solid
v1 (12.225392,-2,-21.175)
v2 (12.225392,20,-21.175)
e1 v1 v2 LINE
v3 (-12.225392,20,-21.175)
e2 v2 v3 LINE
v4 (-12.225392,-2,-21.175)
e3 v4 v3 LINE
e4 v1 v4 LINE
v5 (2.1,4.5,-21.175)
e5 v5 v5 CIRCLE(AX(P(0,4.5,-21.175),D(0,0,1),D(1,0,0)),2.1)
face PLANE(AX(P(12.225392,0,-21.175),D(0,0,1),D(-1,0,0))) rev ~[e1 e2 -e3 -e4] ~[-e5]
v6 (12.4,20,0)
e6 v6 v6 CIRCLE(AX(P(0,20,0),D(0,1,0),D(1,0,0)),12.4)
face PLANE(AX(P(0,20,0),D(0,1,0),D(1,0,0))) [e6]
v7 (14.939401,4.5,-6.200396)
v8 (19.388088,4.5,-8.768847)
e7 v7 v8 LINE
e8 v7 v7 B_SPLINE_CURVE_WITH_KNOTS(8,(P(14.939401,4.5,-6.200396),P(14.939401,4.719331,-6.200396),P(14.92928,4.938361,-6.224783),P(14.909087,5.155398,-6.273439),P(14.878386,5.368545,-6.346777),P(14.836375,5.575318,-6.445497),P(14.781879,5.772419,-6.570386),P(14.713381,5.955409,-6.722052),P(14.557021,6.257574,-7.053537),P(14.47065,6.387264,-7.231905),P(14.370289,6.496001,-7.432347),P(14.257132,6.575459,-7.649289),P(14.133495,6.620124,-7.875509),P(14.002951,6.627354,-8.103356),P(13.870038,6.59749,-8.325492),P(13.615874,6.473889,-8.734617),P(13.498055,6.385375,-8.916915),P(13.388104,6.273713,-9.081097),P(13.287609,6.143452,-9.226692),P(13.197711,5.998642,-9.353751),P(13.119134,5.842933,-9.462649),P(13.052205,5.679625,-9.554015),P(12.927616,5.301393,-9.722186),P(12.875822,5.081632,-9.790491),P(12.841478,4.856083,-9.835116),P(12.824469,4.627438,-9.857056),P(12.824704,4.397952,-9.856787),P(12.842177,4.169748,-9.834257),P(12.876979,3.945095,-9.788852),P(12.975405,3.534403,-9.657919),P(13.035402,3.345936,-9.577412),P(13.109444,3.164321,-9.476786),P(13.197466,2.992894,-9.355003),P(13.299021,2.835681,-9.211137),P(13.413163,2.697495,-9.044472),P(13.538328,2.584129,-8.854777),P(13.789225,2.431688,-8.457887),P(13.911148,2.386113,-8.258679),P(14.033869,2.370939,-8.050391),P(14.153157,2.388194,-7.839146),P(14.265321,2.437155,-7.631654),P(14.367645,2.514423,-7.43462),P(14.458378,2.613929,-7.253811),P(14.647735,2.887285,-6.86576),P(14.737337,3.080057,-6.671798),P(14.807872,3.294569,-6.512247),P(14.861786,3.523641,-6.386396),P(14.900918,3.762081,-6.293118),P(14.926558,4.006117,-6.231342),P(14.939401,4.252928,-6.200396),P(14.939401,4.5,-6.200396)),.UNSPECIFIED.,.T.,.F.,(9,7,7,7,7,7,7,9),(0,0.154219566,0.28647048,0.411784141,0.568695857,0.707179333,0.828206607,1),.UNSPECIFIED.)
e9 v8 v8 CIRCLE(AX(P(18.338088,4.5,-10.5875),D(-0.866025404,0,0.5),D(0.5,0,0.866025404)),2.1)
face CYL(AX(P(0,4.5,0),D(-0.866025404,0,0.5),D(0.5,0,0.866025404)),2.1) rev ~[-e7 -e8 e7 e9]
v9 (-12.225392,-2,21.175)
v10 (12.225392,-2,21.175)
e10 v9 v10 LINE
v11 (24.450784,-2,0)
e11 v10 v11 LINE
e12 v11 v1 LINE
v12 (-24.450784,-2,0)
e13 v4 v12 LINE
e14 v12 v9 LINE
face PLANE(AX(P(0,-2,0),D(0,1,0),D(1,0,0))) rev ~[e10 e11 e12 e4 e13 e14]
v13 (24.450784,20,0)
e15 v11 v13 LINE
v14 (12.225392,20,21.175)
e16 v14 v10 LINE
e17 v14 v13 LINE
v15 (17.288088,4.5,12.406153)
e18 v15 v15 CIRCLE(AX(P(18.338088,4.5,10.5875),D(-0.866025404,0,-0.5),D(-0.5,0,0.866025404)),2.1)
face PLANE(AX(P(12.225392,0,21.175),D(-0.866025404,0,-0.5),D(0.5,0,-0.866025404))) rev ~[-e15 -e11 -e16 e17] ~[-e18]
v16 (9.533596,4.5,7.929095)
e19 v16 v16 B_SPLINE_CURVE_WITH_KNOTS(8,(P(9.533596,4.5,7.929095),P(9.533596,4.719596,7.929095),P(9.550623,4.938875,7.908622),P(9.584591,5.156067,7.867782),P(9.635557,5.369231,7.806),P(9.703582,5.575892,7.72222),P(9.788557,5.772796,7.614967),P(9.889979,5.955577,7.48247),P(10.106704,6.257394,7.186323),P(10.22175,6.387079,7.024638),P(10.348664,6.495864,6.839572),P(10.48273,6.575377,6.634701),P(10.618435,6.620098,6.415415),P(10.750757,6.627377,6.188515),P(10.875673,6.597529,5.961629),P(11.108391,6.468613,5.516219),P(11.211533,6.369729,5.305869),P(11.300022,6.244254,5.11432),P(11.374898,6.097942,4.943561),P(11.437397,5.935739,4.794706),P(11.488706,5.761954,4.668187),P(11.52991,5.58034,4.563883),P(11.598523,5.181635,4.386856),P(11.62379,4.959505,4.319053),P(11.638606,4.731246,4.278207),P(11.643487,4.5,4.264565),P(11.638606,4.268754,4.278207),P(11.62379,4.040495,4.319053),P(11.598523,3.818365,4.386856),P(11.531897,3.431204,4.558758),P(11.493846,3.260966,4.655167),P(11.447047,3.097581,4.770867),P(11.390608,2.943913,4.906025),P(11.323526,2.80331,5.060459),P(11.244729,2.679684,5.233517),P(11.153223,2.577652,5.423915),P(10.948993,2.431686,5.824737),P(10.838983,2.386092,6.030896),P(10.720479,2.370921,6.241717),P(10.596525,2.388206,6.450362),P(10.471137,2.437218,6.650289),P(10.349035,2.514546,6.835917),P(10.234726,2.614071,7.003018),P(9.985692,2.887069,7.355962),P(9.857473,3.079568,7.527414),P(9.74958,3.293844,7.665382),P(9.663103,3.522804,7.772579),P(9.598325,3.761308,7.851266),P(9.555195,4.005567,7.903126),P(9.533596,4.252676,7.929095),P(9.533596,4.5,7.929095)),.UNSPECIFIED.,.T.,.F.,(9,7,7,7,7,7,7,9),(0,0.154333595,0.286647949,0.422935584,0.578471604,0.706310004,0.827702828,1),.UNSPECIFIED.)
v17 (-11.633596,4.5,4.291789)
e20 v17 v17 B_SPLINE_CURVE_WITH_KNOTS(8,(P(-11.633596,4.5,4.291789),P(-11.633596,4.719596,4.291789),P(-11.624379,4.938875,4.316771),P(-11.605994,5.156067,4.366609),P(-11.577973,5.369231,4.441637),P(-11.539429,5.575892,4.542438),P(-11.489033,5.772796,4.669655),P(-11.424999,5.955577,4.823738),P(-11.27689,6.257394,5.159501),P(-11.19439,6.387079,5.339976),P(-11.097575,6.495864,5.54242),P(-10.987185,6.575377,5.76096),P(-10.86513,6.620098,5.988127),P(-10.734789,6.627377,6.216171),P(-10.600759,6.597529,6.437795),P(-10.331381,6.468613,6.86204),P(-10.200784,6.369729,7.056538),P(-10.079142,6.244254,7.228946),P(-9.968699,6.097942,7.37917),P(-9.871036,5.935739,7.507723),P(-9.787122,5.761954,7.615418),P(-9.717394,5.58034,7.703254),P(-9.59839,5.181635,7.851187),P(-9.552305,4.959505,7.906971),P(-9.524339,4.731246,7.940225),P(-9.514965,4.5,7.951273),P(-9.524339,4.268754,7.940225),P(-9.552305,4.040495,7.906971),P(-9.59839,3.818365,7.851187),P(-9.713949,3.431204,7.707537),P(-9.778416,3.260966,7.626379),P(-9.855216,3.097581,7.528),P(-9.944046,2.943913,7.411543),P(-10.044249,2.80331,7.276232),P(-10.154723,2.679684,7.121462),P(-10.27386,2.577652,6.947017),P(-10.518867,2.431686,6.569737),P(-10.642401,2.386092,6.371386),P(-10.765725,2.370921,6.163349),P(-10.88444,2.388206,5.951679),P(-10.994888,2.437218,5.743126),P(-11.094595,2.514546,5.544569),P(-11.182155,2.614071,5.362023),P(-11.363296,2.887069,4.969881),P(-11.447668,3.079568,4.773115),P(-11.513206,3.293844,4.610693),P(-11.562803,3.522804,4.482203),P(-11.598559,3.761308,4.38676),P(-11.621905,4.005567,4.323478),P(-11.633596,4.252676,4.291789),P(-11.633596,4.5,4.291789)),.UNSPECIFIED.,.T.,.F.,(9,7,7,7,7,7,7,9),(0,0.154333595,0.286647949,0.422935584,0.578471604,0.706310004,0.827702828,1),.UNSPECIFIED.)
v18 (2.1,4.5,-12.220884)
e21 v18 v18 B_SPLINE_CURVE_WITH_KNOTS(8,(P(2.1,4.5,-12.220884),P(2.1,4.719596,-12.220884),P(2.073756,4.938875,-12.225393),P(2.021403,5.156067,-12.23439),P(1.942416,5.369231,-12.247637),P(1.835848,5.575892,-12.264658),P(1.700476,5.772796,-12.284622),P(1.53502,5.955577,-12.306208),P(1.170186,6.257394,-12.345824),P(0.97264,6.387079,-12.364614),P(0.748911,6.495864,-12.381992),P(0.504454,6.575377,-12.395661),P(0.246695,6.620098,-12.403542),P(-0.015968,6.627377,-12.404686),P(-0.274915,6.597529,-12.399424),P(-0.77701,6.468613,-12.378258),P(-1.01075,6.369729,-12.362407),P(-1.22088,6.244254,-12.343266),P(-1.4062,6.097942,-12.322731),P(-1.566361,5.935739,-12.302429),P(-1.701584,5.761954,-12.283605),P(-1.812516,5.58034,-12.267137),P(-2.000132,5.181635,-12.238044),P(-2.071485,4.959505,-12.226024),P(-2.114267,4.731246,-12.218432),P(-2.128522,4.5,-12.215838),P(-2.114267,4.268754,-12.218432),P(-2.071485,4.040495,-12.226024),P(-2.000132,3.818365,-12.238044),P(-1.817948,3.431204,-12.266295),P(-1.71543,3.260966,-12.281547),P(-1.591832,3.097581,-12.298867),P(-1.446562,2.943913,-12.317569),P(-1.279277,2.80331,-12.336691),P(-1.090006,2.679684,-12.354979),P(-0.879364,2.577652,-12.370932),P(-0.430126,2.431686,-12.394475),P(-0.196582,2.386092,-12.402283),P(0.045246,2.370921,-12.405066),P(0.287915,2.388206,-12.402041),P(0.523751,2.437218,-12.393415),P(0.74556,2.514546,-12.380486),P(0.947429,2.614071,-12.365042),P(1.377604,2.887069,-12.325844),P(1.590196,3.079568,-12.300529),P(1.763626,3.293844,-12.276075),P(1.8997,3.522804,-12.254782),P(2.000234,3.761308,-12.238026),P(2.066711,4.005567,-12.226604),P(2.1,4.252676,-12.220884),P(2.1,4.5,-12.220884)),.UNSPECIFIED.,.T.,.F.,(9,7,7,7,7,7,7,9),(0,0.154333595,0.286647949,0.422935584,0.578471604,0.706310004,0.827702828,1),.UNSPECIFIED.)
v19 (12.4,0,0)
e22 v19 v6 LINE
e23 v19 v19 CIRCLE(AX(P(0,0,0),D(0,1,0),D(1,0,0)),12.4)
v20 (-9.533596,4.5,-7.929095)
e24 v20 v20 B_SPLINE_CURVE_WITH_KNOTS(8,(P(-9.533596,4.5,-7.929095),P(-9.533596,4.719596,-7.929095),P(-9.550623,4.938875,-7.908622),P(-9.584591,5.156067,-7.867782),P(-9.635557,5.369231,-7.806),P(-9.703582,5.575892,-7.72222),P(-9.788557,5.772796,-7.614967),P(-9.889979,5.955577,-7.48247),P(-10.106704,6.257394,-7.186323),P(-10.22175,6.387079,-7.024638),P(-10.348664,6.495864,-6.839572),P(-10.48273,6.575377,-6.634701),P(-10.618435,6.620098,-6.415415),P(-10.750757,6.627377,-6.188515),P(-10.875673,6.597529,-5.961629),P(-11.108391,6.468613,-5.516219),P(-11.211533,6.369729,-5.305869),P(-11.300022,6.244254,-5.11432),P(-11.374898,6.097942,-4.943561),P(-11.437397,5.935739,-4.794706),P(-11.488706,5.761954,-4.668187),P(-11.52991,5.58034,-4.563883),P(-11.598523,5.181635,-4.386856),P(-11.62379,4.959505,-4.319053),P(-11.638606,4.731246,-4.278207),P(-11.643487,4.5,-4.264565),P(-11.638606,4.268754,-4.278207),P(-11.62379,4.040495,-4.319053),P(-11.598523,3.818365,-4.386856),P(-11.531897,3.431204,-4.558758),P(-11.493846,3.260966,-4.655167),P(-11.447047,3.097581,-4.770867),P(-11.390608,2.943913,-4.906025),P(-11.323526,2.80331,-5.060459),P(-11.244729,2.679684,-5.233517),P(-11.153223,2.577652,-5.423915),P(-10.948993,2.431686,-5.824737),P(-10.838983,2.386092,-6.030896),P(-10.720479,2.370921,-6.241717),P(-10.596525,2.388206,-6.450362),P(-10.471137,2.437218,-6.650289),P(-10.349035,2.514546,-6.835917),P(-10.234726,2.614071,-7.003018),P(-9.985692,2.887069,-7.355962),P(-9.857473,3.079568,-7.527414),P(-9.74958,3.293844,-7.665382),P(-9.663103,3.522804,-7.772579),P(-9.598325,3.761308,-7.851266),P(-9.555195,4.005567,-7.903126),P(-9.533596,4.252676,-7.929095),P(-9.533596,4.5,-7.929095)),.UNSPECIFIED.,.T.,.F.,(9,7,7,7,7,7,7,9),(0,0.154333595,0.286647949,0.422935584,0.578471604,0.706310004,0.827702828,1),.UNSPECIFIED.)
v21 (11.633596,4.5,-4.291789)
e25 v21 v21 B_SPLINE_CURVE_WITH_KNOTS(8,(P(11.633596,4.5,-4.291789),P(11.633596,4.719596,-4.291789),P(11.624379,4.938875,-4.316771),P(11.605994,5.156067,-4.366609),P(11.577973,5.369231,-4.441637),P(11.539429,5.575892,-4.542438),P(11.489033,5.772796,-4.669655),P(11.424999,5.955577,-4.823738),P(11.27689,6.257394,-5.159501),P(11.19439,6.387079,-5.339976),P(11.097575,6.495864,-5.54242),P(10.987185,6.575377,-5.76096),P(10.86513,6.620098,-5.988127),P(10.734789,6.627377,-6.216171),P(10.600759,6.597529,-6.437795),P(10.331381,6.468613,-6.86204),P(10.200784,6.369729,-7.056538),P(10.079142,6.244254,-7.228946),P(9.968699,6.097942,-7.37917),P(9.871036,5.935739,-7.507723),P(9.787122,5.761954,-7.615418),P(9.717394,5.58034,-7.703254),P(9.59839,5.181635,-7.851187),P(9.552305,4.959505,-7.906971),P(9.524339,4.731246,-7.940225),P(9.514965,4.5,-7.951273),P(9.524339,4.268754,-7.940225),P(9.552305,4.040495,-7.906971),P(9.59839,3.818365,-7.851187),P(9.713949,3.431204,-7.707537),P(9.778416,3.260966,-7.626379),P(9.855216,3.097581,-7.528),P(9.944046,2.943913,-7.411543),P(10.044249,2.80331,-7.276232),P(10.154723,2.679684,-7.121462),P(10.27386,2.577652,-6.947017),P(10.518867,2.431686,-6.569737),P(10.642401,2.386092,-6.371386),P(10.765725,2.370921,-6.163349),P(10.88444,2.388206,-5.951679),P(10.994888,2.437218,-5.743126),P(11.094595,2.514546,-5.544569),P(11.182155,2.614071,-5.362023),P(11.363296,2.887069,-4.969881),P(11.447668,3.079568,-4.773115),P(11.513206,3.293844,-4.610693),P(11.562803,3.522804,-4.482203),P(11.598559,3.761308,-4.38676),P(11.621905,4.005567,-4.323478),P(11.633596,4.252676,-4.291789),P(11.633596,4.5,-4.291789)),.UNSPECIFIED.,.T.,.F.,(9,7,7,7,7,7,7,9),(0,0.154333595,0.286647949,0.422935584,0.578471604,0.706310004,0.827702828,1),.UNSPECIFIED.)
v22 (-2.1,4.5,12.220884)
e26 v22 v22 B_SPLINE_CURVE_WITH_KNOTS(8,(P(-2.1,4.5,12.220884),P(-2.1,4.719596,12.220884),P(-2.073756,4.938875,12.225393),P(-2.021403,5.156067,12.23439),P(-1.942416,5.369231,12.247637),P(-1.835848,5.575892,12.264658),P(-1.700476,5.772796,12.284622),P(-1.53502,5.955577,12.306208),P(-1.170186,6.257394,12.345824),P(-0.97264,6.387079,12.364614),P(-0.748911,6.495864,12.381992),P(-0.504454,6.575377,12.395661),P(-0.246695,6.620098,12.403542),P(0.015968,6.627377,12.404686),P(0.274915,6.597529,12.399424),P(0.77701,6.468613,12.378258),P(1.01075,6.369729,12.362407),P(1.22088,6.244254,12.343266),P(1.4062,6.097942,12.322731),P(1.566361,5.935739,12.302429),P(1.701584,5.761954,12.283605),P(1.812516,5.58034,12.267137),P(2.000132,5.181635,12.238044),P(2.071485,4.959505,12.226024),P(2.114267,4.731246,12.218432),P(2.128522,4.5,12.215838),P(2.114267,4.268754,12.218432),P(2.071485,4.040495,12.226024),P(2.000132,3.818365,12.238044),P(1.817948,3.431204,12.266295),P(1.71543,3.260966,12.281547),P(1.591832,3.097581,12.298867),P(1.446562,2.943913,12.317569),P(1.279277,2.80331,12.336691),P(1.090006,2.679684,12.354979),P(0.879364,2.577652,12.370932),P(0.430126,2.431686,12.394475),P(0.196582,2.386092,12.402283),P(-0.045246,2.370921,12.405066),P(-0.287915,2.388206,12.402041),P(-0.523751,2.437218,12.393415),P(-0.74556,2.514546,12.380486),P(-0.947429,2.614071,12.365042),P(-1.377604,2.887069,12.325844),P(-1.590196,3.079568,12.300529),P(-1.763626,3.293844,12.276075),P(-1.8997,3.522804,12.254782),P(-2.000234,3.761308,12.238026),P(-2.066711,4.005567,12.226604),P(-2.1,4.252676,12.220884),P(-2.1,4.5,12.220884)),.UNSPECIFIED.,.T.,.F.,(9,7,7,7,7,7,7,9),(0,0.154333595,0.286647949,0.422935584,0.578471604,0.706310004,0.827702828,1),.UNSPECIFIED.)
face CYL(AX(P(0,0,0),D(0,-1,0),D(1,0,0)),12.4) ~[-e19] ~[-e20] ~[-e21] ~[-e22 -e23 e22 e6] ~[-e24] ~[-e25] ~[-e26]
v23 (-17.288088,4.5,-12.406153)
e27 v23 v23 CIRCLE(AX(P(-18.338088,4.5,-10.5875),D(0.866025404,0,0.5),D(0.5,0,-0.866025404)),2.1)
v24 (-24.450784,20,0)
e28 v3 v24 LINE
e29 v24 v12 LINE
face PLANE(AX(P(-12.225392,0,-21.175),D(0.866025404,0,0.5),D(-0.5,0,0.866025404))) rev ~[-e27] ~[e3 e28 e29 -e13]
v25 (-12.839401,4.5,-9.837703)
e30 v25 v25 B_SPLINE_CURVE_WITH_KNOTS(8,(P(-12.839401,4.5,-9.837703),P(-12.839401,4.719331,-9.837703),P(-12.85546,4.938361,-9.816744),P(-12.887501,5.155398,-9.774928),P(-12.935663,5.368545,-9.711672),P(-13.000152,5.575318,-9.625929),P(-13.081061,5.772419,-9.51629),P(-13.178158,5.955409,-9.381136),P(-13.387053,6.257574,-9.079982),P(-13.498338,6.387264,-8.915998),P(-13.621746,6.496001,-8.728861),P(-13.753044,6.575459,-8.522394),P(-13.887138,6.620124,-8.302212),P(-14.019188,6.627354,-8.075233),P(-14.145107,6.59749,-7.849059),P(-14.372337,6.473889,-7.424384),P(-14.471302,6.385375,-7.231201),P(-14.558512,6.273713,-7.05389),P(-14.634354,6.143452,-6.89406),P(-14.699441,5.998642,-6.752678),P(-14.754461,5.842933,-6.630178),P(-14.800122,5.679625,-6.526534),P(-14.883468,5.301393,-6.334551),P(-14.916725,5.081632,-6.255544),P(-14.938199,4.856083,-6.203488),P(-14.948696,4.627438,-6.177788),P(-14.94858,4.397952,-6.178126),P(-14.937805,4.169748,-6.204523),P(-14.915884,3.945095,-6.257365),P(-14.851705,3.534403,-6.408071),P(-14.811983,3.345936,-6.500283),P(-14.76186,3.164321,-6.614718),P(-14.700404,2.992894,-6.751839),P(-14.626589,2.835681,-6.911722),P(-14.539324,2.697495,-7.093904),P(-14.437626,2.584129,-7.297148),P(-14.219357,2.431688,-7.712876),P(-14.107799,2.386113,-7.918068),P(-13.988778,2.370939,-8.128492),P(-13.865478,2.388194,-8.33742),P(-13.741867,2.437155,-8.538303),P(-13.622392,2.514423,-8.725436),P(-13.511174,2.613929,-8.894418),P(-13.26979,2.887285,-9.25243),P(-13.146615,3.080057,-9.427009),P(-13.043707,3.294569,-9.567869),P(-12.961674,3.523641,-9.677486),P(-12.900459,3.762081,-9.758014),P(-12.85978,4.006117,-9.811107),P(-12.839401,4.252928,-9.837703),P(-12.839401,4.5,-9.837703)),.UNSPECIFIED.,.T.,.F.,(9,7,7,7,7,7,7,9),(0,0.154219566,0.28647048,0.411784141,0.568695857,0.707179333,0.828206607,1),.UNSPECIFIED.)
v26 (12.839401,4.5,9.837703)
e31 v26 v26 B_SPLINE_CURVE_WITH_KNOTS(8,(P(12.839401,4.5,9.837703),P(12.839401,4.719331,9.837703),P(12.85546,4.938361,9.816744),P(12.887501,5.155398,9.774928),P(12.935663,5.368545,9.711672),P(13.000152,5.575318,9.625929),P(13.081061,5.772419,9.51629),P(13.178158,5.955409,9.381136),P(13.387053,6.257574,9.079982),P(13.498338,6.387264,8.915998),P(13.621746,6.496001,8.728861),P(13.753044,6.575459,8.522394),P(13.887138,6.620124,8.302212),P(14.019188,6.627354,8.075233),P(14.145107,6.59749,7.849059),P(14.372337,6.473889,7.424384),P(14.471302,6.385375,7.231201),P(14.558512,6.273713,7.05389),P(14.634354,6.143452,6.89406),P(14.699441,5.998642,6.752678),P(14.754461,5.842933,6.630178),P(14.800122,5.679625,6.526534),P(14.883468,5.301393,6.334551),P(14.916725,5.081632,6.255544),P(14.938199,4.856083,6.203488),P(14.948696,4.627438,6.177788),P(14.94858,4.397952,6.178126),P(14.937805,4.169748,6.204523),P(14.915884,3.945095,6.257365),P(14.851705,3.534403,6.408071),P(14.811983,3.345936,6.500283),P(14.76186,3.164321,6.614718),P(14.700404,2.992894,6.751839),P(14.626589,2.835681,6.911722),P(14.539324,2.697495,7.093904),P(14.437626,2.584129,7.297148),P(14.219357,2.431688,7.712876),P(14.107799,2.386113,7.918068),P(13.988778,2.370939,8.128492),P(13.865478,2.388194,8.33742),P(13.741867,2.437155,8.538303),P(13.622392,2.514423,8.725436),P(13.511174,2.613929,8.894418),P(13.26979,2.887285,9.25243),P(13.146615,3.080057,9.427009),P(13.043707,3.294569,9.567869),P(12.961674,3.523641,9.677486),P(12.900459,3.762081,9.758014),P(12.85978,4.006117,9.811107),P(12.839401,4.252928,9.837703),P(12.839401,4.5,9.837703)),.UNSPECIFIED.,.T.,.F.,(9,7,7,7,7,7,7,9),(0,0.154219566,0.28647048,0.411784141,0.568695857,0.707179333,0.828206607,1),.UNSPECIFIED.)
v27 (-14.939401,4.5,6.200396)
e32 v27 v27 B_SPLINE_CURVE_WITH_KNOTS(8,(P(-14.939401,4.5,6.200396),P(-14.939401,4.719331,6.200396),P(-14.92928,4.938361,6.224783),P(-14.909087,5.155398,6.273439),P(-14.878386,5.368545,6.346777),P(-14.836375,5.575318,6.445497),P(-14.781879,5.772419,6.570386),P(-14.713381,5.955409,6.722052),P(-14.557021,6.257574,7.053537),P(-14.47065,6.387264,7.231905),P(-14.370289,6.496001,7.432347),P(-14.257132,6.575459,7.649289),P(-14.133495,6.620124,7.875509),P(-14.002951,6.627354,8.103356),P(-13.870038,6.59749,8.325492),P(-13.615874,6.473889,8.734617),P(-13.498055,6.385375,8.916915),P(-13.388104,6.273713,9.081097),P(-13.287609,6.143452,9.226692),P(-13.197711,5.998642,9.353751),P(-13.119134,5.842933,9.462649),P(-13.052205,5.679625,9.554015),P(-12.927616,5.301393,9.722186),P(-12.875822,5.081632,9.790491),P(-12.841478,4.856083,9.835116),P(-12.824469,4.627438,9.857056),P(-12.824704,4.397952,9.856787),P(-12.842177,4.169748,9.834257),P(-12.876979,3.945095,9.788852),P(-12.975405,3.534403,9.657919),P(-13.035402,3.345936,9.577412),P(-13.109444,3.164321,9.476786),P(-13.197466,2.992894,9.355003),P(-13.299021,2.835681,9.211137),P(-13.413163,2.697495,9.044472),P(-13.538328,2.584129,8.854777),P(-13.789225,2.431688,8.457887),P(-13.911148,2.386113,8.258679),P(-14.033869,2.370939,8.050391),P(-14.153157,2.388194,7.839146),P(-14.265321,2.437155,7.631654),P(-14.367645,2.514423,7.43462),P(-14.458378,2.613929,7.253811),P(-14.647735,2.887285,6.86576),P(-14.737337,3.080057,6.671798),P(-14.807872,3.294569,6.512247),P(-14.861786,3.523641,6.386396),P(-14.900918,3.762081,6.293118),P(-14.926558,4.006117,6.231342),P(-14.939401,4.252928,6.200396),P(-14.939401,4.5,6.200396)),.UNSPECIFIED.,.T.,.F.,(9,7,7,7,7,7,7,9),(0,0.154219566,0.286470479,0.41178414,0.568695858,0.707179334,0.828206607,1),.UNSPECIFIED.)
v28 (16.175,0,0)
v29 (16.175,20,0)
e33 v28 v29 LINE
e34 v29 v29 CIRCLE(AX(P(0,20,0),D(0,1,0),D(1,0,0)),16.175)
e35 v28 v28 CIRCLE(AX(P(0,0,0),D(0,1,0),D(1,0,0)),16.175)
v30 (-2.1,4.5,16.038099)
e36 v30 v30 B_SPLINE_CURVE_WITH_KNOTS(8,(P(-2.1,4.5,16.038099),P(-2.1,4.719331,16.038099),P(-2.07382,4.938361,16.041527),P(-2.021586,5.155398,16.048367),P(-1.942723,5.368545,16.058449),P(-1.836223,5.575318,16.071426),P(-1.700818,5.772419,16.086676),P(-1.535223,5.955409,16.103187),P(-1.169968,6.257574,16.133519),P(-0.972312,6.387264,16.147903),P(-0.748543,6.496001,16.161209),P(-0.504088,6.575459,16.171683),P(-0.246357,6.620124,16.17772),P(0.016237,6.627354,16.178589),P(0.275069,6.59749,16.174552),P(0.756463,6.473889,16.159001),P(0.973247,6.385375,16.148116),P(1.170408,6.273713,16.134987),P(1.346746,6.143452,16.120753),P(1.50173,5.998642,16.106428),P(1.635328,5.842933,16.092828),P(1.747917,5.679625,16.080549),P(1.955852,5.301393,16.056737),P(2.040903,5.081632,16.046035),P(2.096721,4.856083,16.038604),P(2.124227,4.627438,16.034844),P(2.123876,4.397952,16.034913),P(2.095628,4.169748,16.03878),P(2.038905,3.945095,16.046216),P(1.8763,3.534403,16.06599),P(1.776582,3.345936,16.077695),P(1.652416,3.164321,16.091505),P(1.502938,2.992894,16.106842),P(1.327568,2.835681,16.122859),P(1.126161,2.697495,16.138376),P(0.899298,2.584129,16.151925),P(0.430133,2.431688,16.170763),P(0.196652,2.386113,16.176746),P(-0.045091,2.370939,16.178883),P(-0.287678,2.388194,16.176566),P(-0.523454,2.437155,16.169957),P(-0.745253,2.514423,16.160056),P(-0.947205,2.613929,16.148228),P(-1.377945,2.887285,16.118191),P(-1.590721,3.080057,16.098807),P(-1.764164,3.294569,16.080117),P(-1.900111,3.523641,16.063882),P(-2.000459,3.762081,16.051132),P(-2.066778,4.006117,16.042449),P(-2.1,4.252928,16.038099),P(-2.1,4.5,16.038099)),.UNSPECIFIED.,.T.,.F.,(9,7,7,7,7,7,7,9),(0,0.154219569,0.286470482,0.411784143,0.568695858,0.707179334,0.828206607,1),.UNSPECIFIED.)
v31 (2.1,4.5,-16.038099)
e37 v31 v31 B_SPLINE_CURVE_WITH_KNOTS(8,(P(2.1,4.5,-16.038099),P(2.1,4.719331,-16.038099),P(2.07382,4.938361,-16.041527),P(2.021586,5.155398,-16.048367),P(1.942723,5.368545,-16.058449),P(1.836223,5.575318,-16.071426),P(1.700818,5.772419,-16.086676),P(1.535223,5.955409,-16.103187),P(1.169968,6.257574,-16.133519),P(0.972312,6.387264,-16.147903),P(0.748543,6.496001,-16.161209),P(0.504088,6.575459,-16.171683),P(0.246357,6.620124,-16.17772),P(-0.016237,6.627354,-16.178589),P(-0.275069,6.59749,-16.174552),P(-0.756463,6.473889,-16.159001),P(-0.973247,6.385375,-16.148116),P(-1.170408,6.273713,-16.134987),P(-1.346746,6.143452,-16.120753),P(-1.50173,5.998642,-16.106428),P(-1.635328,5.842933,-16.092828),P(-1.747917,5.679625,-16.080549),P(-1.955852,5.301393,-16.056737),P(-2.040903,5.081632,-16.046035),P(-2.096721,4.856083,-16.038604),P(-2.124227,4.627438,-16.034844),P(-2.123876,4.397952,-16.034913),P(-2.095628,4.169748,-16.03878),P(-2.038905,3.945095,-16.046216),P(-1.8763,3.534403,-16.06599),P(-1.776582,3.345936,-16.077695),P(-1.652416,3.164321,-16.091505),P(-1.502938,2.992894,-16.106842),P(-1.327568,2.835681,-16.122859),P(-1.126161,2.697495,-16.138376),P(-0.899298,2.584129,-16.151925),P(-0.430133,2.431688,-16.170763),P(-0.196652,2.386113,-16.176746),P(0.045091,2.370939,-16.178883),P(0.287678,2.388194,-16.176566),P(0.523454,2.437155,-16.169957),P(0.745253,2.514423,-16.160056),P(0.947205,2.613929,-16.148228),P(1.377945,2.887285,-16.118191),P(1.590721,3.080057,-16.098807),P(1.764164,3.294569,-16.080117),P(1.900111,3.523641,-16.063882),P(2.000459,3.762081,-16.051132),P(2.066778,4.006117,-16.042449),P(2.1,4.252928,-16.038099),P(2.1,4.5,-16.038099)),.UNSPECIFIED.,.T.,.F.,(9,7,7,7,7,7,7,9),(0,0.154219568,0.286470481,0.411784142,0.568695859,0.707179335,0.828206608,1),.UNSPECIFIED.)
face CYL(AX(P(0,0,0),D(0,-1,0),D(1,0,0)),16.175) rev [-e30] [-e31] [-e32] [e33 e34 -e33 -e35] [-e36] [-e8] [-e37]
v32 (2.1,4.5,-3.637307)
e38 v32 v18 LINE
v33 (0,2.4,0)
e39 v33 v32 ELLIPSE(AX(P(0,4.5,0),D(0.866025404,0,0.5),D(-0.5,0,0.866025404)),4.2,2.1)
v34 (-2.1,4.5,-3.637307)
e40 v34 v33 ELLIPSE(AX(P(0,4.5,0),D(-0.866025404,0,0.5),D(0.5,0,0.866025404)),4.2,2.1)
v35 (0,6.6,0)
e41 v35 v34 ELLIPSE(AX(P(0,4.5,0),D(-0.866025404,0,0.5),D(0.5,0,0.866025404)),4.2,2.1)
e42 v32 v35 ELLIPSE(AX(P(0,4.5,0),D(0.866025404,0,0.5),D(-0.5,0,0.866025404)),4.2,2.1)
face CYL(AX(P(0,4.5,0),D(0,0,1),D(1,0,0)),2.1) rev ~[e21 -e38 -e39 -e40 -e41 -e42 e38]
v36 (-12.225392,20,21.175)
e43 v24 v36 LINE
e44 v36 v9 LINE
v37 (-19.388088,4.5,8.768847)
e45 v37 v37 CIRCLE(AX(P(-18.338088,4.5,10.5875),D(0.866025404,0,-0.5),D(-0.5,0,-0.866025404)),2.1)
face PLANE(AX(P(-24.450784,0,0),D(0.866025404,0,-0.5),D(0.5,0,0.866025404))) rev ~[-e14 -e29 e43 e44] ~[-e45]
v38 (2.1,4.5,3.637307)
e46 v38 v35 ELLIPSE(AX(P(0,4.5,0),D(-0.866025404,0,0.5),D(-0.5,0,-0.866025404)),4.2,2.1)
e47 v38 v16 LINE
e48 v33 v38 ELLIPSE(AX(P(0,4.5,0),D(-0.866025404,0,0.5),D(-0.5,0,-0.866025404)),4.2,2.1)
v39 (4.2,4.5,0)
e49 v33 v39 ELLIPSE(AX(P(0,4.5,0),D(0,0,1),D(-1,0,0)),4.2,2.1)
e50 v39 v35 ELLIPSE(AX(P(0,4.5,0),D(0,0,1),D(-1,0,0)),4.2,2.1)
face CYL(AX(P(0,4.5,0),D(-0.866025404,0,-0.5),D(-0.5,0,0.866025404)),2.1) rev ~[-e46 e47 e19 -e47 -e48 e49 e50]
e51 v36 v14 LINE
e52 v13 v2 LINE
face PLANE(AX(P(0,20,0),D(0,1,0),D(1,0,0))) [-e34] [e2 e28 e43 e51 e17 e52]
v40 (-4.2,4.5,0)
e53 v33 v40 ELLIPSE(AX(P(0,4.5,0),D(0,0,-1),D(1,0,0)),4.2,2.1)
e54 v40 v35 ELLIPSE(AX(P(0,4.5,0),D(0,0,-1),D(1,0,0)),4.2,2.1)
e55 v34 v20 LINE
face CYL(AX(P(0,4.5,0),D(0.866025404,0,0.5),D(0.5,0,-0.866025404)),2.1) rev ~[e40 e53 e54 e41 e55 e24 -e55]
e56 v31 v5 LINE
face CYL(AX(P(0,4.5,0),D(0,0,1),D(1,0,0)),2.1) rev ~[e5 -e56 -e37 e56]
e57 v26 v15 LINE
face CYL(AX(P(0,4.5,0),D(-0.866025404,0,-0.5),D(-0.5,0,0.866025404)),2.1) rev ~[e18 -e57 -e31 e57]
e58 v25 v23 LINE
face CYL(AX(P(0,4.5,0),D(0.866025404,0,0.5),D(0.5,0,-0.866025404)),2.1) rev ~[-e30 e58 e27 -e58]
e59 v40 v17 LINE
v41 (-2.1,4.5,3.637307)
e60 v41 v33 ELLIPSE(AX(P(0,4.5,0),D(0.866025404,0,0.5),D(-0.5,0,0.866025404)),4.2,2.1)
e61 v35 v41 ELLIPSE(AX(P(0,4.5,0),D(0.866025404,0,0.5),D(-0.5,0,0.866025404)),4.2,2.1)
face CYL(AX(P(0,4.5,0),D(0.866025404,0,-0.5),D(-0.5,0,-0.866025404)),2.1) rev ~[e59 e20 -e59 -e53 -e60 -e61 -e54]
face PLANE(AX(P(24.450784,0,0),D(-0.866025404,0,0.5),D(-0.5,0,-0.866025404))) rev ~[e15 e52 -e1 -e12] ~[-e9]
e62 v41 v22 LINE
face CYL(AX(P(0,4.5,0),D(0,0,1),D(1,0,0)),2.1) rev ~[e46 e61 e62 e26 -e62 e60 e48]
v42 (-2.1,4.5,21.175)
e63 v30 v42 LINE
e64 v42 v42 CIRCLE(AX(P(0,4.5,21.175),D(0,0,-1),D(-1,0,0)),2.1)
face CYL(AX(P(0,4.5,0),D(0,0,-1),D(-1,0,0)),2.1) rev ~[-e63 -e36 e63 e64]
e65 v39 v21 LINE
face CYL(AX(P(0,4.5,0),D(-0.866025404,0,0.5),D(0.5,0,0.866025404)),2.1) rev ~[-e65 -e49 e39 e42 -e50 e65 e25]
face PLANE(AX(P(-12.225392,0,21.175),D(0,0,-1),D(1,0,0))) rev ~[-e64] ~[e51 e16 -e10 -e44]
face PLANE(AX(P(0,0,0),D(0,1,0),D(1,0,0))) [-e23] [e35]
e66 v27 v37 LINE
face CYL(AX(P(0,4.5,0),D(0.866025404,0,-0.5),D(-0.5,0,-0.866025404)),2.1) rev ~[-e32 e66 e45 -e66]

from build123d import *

# Parameters (mm, degrees)
BOSS_EXTRUDE1_DEPTH = 2
SKETCH1_3_R         = 16.175
SKETCH1_3_R_2       = 12.4
BOSS_EXTRUDE2_DEPTH = 20
SKETCH2_R           = 2.1
CUT_EXTRUDE1_DEPTH  = 39.029218482
CIRPATTERN1_COUNT   = 6


with BuildPart() as part:
    # Sketch1 → Boss-Extrude1 (new body)
    with BuildSketch(Plane(origin=(0, 0, 0), x_dir=(1, 0, 0), z_dir=(0, 1, 0))):
        Polygon((12.22539195, -21.175), (24.4507839, 0), (12.22539195, 21.175), (-12.22539195, 21.175), (-24.4507839, 0), (-12.22539195, -21.175), align=None)
    extrude(amount=-BOSS_EXTRUDE1_DEPTH)

    # Sketch1<3> → Boss-Extrude2 (add)
    # profile 1 of 2: a face of its own
    with BuildSketch(Plane(origin=(0, 0, 0), x_dir=(1, 0, 0), z_dir=(0, 1, 0))):
        Polygon((12.22539195, -21.175), (24.4507839, 0), (12.22539195, 21.175), (-12.22539195, 21.175), (-24.4507839, 0), (-12.22539195, -21.175), align=None)
        Circle(SKETCH1_3_R, mode=Mode.SUBTRACT)
    # profile 2 of 2: a face of its own
    with BuildSketch(Plane(origin=(0, 0, 0), x_dir=(1, 0, 0), z_dir=(0, 1, 0))):
        Circle(SKETCH1_3_R_2)
    extrude(amount=BOSS_EXTRUDE2_DEPTH)

    # Sketch2 → Cut-Extrude1 (cut, through all)
    with BuildSketch(Plane.XY):
        with Locations((0, 4.5)):
            Circle(SKETCH2_R)
    cut_extrude1 = extrude(amount=-CUT_EXTRUDE1_DEPTH, mode=Mode.SUBTRACT)

    # CirPattern1: Cut-Extrude1 ×6 about axis
    cirpattern1_axis = Axis((0, 20, 0), (0, -1, 0))
    for i in range(1, CIRPATTERN1_COUNT):
        add(cut_extrude1.rotate(cirpattern1_axis, i * 360 / CIRPATTERN1_COUNT), mode=Mode.SUBTRACT)


solid = part.part
